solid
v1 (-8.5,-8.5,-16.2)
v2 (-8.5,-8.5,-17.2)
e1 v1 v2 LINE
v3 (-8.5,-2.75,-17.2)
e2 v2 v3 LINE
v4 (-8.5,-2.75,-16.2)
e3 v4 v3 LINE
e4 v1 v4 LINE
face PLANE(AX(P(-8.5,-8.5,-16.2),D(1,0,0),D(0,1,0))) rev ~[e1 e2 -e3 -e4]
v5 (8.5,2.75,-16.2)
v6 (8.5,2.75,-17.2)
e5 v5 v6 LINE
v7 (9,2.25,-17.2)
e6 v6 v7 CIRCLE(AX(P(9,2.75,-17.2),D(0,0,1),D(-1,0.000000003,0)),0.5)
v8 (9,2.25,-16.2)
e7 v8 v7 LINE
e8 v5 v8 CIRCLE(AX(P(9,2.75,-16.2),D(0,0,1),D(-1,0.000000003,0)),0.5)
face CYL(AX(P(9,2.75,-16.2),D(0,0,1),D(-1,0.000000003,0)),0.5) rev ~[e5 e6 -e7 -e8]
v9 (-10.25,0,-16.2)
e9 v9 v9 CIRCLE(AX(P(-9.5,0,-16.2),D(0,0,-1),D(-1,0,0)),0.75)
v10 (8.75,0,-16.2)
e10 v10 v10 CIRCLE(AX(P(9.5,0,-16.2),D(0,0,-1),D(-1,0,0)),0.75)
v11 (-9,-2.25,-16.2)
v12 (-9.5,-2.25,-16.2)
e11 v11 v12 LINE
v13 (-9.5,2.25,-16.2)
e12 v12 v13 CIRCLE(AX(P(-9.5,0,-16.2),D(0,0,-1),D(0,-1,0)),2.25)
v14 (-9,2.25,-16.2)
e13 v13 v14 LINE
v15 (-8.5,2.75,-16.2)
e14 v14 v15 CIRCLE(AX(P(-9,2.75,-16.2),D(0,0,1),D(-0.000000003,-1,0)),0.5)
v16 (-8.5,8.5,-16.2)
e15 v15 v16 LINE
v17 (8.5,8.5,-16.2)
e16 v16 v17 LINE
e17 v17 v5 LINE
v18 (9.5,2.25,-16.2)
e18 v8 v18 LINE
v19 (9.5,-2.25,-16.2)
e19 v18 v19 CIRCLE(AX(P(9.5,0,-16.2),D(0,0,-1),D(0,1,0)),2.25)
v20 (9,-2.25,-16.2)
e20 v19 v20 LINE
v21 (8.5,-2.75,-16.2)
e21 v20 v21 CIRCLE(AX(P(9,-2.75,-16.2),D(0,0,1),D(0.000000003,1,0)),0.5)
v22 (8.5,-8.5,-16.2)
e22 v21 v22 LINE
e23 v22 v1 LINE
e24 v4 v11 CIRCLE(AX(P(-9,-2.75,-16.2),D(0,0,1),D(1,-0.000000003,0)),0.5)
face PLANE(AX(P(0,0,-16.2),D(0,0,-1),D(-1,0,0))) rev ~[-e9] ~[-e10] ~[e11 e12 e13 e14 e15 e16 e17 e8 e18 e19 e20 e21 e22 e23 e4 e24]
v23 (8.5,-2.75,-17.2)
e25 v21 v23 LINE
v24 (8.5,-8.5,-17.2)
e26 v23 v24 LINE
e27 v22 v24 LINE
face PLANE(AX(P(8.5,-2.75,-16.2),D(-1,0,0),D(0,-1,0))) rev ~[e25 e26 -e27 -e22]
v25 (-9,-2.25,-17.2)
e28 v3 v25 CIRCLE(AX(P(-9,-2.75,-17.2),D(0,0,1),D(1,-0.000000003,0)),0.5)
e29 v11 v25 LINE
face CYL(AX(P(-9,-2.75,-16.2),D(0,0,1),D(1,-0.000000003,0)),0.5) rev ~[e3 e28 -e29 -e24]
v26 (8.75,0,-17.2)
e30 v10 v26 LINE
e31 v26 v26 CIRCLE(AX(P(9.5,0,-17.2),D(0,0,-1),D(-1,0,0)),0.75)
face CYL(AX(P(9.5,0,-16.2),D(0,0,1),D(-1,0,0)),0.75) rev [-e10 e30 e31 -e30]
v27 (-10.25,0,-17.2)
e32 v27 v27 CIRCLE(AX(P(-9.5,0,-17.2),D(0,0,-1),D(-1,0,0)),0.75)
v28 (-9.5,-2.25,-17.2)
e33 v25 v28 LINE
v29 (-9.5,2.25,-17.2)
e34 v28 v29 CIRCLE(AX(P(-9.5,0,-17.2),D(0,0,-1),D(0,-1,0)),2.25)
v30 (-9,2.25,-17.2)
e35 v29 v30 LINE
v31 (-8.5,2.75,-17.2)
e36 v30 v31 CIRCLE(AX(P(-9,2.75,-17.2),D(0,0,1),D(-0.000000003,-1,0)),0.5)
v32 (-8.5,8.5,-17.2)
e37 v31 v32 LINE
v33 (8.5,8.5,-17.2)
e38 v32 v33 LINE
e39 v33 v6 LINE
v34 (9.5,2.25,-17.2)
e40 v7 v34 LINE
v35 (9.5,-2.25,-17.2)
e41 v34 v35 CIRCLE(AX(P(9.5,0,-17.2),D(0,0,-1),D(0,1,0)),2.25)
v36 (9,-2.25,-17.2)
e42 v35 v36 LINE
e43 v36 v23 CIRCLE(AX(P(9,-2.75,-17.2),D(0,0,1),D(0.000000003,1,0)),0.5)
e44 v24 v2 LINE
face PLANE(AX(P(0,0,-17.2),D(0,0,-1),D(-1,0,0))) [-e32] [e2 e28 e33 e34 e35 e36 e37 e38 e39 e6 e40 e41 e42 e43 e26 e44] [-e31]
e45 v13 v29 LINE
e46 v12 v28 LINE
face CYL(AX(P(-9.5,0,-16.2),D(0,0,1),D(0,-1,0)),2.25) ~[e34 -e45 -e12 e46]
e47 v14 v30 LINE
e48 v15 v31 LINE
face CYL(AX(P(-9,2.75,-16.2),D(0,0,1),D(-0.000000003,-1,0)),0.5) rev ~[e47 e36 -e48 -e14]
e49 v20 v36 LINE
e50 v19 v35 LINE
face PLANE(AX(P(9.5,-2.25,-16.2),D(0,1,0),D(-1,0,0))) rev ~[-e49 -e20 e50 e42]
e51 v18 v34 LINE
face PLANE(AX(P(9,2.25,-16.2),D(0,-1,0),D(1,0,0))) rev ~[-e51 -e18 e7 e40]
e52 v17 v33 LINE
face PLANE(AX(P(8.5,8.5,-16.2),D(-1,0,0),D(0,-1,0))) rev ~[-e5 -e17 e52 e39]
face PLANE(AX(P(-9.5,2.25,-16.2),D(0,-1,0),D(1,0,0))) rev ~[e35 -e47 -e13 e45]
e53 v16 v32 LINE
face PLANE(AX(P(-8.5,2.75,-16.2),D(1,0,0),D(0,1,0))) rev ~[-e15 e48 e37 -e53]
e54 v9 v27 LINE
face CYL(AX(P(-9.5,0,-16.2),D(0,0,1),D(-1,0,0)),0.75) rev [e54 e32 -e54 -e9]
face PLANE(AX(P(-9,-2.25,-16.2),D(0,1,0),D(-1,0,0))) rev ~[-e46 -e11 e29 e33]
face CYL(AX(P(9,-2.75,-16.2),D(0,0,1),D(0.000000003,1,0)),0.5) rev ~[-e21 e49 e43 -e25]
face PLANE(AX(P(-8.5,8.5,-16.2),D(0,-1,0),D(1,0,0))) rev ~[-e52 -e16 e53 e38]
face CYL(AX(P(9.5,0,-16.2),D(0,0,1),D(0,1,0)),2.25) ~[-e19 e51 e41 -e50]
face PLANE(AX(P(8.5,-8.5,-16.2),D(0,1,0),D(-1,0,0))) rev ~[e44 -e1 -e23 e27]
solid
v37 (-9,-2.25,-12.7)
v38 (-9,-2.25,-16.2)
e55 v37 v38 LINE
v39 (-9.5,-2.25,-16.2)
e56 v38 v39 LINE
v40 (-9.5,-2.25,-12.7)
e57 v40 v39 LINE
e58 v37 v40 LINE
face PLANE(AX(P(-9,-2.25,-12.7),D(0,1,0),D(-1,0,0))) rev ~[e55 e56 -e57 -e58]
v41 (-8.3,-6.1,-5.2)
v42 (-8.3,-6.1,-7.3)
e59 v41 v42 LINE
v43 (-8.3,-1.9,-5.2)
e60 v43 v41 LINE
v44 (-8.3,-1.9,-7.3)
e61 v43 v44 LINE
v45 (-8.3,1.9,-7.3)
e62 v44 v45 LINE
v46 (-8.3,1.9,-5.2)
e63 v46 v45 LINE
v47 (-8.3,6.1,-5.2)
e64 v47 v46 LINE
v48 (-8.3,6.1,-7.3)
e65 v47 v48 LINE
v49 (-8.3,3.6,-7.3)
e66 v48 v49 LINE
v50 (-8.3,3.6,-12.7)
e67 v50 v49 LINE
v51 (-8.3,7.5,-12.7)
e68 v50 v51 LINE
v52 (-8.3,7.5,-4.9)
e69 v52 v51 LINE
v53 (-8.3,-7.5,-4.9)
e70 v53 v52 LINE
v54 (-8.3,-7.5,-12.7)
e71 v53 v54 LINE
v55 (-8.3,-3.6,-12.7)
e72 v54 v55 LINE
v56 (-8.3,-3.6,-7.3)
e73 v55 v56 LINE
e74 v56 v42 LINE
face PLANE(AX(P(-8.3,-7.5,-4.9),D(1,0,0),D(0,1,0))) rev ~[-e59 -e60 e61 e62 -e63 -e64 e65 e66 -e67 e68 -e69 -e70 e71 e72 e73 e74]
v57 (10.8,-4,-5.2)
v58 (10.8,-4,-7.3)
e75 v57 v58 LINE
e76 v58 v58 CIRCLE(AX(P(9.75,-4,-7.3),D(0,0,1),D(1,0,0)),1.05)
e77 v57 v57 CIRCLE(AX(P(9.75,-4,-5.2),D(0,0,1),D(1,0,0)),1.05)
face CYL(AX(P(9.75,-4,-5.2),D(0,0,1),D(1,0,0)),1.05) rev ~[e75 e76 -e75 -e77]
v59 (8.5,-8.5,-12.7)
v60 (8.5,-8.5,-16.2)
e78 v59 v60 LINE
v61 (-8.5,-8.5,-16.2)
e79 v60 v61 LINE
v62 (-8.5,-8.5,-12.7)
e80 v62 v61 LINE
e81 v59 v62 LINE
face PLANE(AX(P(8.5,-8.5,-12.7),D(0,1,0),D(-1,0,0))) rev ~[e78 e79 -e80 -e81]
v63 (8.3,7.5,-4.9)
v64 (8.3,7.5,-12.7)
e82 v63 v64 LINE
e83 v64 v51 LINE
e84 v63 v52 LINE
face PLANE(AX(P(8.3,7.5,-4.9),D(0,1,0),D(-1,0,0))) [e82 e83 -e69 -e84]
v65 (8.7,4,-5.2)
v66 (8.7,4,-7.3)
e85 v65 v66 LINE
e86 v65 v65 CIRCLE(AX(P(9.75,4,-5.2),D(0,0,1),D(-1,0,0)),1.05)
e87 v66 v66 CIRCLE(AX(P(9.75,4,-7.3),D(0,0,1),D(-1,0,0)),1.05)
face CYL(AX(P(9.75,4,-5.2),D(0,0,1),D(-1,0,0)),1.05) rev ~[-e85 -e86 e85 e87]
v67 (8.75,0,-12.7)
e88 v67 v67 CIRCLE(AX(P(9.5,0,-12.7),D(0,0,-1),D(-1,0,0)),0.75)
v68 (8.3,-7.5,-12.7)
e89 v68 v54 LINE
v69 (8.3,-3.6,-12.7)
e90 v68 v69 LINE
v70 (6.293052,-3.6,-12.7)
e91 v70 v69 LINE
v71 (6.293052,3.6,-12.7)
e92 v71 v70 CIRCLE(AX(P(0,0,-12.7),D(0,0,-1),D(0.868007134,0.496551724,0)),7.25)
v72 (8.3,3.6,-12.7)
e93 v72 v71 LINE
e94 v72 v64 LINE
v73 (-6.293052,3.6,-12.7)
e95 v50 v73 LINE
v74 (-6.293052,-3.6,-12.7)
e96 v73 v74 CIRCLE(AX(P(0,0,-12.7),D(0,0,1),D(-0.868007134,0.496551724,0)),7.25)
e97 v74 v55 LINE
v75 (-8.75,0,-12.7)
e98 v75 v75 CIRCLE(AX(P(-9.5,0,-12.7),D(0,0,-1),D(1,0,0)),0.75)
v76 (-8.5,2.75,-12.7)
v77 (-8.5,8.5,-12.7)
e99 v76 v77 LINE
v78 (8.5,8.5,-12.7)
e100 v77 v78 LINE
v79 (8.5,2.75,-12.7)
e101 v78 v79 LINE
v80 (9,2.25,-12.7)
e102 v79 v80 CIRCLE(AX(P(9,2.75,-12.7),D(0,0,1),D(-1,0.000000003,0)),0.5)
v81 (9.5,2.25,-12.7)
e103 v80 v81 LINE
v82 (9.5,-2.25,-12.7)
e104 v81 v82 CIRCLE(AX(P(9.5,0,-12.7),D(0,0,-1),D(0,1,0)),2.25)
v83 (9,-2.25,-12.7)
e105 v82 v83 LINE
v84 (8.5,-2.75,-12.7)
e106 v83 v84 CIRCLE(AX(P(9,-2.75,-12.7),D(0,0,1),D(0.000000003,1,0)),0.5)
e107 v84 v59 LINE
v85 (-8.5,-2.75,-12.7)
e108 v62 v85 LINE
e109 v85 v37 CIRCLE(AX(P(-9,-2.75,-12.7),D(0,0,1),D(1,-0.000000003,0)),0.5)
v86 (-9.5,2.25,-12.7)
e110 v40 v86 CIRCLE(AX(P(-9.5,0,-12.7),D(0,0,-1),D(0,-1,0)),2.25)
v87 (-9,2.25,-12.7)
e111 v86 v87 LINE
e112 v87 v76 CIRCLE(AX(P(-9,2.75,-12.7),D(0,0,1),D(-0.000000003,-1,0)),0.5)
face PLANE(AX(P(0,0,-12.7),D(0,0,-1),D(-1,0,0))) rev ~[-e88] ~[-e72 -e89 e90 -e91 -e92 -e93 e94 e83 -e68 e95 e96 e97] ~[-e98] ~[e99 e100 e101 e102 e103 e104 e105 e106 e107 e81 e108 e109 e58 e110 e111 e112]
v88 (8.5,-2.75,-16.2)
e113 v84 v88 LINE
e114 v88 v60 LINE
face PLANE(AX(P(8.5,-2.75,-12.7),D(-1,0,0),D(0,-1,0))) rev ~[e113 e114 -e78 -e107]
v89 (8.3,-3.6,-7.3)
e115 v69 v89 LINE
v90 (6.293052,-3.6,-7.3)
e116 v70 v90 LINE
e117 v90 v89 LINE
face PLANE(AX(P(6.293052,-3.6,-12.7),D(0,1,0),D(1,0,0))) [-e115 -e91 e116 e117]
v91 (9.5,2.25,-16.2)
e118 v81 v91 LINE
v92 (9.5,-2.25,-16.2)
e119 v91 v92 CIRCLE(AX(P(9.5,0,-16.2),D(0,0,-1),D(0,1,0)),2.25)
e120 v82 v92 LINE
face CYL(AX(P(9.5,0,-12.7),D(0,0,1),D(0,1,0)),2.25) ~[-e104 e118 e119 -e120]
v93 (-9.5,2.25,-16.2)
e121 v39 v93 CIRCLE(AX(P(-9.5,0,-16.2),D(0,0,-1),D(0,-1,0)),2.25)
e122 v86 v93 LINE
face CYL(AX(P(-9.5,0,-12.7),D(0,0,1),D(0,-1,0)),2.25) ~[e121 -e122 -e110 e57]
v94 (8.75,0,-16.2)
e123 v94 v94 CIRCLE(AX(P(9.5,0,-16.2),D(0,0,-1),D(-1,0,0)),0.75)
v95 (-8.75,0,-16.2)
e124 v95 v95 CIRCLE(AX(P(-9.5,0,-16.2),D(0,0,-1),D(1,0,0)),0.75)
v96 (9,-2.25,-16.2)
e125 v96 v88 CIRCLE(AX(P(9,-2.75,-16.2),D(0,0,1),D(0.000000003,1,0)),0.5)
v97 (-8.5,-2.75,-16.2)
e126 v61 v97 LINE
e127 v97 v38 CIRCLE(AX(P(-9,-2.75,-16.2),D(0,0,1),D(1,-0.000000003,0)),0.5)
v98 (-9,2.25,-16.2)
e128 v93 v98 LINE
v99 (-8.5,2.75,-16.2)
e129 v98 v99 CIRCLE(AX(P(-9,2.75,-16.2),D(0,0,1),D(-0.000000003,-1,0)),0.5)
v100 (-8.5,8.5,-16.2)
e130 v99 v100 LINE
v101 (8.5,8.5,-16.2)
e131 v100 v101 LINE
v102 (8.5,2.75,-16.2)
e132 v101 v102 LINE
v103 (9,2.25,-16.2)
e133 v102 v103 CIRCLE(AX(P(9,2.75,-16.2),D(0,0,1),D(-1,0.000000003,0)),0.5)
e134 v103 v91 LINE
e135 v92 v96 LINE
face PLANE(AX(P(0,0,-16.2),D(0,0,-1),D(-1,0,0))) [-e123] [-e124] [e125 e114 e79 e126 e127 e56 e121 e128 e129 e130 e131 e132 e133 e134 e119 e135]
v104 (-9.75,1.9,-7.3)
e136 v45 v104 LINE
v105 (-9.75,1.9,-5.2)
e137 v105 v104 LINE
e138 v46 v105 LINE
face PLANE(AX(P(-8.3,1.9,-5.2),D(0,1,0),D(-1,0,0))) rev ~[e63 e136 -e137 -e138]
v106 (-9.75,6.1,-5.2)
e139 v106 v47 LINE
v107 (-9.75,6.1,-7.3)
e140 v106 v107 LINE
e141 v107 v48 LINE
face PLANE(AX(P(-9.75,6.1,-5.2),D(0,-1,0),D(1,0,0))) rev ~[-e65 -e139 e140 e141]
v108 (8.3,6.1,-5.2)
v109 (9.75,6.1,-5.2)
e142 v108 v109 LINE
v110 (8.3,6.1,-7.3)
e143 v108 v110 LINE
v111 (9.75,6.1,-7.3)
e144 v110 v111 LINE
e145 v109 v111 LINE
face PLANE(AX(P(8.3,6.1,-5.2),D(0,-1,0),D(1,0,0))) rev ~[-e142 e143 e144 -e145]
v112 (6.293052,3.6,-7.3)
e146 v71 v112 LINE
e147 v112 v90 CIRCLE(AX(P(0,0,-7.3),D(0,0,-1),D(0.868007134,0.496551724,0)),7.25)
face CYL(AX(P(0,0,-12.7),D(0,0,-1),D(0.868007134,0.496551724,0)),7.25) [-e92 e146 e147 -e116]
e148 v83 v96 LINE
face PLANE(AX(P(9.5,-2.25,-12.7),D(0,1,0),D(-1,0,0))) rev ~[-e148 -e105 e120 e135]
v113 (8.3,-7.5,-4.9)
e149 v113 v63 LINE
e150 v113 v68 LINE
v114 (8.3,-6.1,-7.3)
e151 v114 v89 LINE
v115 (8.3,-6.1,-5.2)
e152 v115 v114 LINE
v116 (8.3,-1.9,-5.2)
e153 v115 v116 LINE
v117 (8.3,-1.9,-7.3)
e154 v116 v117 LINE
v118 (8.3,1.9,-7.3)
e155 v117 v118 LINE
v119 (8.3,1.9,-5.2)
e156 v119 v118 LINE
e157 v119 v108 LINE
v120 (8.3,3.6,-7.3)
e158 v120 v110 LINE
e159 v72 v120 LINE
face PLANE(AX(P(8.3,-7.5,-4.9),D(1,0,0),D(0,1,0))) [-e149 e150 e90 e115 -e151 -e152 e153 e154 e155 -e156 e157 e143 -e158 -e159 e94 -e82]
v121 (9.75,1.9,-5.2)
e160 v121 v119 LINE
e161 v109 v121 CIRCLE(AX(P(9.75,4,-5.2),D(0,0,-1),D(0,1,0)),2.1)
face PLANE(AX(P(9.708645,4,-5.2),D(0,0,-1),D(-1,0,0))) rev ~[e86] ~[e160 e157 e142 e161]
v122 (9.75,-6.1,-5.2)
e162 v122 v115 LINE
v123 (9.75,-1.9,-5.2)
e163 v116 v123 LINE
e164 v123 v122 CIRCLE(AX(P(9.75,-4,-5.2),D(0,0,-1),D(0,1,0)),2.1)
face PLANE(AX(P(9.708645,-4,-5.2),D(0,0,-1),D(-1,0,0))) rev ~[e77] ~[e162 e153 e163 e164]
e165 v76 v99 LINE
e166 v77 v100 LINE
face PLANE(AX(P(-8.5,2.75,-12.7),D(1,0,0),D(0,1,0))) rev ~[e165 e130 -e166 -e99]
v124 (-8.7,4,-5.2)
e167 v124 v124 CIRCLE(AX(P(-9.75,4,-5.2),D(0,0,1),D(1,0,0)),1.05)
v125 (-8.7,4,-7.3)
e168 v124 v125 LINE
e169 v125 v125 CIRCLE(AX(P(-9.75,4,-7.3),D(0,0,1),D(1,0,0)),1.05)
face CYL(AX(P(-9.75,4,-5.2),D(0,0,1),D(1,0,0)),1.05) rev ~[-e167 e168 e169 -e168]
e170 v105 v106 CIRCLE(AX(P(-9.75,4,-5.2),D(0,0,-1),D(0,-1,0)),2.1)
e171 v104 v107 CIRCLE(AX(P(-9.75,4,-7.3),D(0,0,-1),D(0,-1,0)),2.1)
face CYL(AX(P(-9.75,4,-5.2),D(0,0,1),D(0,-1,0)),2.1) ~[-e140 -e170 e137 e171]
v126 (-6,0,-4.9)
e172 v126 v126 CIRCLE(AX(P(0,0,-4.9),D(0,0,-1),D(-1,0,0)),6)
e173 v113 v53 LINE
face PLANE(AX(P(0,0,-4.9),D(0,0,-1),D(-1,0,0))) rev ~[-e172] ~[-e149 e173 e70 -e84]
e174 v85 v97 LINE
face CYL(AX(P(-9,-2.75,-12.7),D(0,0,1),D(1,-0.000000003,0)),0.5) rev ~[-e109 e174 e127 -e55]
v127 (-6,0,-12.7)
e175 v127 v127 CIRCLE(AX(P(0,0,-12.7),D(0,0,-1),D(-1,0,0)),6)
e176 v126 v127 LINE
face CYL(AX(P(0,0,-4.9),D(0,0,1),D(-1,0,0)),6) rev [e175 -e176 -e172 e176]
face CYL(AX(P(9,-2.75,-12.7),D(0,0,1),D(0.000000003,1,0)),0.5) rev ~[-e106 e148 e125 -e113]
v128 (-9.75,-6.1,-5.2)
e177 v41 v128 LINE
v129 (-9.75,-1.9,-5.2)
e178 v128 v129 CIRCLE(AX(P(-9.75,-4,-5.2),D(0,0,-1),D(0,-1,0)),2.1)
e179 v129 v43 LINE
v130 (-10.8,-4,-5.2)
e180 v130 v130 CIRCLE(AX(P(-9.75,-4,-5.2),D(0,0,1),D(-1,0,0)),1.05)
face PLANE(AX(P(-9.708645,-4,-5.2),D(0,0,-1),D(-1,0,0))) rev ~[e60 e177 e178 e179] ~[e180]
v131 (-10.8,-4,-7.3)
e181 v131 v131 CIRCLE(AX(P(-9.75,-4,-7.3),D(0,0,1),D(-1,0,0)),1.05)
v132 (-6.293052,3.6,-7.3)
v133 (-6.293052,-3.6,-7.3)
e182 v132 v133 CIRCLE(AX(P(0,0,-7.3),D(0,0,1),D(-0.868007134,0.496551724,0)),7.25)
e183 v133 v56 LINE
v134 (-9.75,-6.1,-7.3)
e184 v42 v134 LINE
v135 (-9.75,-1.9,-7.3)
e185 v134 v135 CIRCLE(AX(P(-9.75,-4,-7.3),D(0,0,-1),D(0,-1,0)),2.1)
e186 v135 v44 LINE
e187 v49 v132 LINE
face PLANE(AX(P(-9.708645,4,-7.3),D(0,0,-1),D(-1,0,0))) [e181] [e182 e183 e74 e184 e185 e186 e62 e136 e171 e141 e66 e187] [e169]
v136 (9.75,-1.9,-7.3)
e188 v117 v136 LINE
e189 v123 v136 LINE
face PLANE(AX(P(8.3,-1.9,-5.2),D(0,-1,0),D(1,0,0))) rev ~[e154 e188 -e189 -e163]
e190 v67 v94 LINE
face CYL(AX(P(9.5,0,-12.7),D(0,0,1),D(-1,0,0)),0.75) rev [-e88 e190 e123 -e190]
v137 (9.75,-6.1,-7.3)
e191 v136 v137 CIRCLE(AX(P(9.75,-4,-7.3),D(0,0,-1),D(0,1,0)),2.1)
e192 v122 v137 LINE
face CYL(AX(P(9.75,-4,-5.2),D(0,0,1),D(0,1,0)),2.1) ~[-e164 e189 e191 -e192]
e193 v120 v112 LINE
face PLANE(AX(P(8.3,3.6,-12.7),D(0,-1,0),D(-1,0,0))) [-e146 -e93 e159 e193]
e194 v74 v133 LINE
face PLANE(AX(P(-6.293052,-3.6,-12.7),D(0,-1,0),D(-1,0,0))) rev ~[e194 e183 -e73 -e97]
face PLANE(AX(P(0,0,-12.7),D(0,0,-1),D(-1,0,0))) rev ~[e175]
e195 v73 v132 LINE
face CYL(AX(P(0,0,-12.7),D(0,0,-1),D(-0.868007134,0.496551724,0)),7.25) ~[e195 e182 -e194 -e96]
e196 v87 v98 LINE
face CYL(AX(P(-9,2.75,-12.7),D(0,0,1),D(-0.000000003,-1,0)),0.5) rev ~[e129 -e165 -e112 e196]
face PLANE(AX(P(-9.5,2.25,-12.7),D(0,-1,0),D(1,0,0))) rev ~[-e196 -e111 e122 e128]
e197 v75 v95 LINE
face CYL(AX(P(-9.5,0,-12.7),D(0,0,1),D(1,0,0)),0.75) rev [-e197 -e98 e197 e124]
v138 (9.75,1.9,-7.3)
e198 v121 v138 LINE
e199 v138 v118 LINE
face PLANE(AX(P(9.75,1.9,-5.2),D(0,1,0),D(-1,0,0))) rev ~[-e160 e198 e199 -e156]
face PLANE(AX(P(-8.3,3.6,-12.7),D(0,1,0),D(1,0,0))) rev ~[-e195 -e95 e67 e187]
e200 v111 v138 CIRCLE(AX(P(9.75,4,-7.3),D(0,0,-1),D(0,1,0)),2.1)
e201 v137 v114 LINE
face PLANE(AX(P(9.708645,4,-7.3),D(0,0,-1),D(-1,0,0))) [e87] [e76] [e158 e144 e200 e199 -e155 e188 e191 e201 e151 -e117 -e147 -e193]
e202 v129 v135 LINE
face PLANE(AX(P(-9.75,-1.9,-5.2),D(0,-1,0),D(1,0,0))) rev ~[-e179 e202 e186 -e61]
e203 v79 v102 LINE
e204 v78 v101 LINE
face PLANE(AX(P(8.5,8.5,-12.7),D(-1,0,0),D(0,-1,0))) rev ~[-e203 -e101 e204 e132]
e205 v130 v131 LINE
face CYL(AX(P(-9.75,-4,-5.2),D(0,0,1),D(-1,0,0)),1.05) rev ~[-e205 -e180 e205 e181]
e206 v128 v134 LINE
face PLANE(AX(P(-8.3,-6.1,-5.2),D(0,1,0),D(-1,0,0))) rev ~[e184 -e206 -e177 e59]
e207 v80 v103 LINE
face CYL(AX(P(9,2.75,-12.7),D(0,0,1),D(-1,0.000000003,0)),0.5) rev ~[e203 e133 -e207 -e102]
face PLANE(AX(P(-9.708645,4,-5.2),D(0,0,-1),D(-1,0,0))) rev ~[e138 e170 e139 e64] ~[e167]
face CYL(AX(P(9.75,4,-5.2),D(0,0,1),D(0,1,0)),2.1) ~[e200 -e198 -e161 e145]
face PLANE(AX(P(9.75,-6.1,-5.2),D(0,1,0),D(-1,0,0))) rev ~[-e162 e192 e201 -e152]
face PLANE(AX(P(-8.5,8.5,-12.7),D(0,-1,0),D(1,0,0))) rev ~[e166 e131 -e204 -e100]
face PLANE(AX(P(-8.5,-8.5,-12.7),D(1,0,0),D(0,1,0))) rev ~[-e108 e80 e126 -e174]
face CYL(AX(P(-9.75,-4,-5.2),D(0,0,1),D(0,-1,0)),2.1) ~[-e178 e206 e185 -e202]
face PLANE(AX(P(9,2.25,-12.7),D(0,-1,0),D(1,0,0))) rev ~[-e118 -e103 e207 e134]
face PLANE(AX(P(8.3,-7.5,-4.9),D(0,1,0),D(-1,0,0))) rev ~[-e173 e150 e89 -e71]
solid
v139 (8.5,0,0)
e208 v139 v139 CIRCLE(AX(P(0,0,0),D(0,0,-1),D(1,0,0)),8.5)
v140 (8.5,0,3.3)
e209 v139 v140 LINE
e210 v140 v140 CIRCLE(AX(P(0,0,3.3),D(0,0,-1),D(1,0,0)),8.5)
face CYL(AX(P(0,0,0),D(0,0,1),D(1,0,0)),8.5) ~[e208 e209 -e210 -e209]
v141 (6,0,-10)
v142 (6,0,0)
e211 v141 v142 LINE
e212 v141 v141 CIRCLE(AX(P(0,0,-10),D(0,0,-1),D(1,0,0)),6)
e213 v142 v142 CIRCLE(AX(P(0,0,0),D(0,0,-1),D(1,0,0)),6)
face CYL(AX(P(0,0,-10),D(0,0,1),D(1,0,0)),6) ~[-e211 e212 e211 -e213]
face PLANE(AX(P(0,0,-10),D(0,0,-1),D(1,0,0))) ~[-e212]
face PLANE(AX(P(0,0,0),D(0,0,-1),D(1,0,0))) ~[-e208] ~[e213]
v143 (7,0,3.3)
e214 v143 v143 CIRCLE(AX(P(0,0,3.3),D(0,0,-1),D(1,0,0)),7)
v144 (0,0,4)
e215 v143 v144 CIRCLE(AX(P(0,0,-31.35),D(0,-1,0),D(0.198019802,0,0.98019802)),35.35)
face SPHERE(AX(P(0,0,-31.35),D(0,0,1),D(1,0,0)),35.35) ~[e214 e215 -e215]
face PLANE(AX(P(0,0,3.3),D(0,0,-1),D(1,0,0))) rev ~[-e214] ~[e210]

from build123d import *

# Parameters (mm, degrees)
EXTRUDE_START       = -5.1
SKETCH_2_W          = 16.6
SKETCH_2_H          = 15
SKETCH_2_R          = 6
EXTRUDE_1_DEPTH     = 7.8
EXTRUDE_START_2     = -0.3
SKETCH_3_R          = 1.05
EXTRUDE_2_DEPTH     = 2.1
SKETCH_4_R          = 0.75
EXTRUDE_3_DEPTH     = 3.5
SKETCH_5_R          = 0.75
EXTRUDE_4_DEPTH     = 1
CUT_EXTRUDE_1_DEPTH = 5.4


with BuildPart() as part:
    # Эскиз1 → Повернуть1 (revolve)
    with BuildSketch(Plane(origin=(0, 0, 0), x_dir=(0, 0, -1), z_dir=(1, 0, 0)), mode=Mode.PRIVATE) as revolve_1_sk:
        with BuildLine():
            Line((10, 6), (0, 6))
            Line((0, 6), (0, 8.5))
            Line((0, 8.5), (-3.3, 8.5))
            Line((-3.3, 8.5), (-3.3, 7))
            ThreePointArc((-3.3, 7), (-3.824564674, 3.517456467), (-4, 0))
            Line((-4, 0), (0, 0))
            Line((0, 0), (10, 0))
            Line((10, 0), (10, 6))
        make_face()
    revolve(revolve_1_sk.sketch.rotate(Axis((0, 0, 4), (0, 0, -1)), 90), axis=Axis((0, 0, 4), (0, 0, -1)))


with BuildPart() as body_2:
    # Эскиз2 → Бобышка-Вытянуть1 (new body)
    with BuildSketch(Plane(origin=(0, 0, -10), x_dir=(-1, 0, 0), z_dir=(0, 0, -1)).offset(EXTRUDE_START)):
        Rectangle(SKETCH_2_W, SKETCH_2_H)
        Circle(SKETCH_2_R, mode=Mode.SUBTRACT)
    extrude(amount=EXTRUDE_1_DEPTH)

    # Эскиз3 → Бобышка-Вытянуть2 (add)
    # profile 1 of 4: a face of its own
    with BuildSketch(Plane.XY.offset(-4.9).offset(EXTRUDE_START_2)):
        with BuildLine():
            Line((-9.75, 6.1), (-8.3, 6.1))
            Line((-8.3, 6.1), (-8.3, 1.9))
            Line((-8.3, 1.9), (-9.75, 1.9))
            ThreePointArc((-9.75, 1.9), (-11.85, 4), (-9.75, 6.1))
        make_face()
        with Locations((-9.75, 4)):
            Circle(SKETCH_3_R, mode=Mode.SUBTRACT)
    # profile 2 of 4: a face of its own
    with BuildSketch(Plane.XY.offset(-4.9).offset(EXTRUDE_START_2)):
        with BuildLine():
            Line((9.75, 1.9), (8.3, 1.9))
            Line((8.3, 1.9), (8.3, 6.1))
            Line((8.3, 6.1), (9.75, 6.1))
            ThreePointArc((9.75, 6.1), (11.85, 4), (9.75, 1.9))
        make_face()
        with Locations(Location((9.75, 4, 0), (0, 0, 180))):
            Circle(SKETCH_3_R, mode=Mode.SUBTRACT)
    # profile 3 of 4: a face of its own
    with BuildSketch(Plane.XY.offset(-4.9).offset(EXTRUDE_START_2)):
        with BuildLine():
            Line((9.75, -6.1), (8.3, -6.1))
            Line((8.3, -6.1), (8.3, -1.9))
            Line((8.3, -1.9), (9.75, -1.9))
            ThreePointArc((9.75, -1.9), (11.85, -4), (9.75, -6.1))
        make_face()
        with Locations((9.75, -4)):
            Circle(SKETCH_3_R, mode=Mode.SUBTRACT)
    # profile 4 of 4: a face of its own
    with BuildSketch(Plane.XY.offset(-4.9).offset(EXTRUDE_START_2)):
        with BuildLine():
            Line((-9.75, -1.9), (-8.3, -1.9))
            Line((-8.3, -1.9), (-8.3, -6.1))
            Line((-8.3, -6.1), (-9.75, -6.1))
            ThreePointArc((-9.75, -6.1), (-11.85, -4), (-9.75, -1.9))
        make_face()
        with Locations(Location((-9.75, -4, 0), (0, 0, 180))):
            Circle(SKETCH_3_R, mode=Mode.SUBTRACT)
    extrude(amount=-EXTRUDE_2_DEPTH)

    # Эскиз4 → Бобышка-Вытянуть3 (add)
    with BuildSketch(Plane(origin=(0, 0, -12.7), x_dir=(-1, 0, 0), z_dir=(0, 0, -1))):
        with BuildLine():
            Line((-8.5, -8.5), (8.5, -8.5))
            Line((8.5, -8.5), (8.5, -2.75))
            ThreePointArc((8.5, -2.75), (8.646446609, -2.396446609), (9, -2.25))
            Line((9, -2.25), (9.5, -2.25))
            ThreePointArc((9.5, -2.25), (11.75, 0), (9.5, 2.25))
            Line((9.5, 2.25), (9, 2.25))
            ThreePointArc((9, 2.25), (8.646446609, 2.396446609), (8.5, 2.75))
            Line((8.5, 2.75), (8.5, 8.5))
            Line((8.5, 8.5), (-8.5, 8.5))
            Line((-8.5, 8.5), (-8.5, 2.75))
            ThreePointArc((-8.5, 2.75), (-8.646446609, 2.396446609), (-9, 2.25))
            Line((-9, 2.25), (-9.5, 2.25))
            ThreePointArc((-9.5, 2.25), (-11.75, 0), (-9.5, -2.25))
            Line((-9.5, -2.25), (-9, -2.25))
            ThreePointArc((-9, -2.25), (-8.646446609, -2.396446609), (-8.5, -2.75))
            Line((-8.5, -2.75), (-8.5, -8.5))
        make_face()
        with Locations((-9.5, 0)):
            Circle(SKETCH_4_R, mode=Mode.SUBTRACT)
        with Locations(Location((9.5, 0, 0), (0, 0, 180))):
            Circle(SKETCH_4_R, mode=Mode.SUBTRACT)
    extrude(amount=EXTRUDE_3_DEPTH)

    # Эскиз7 → Вырез-Вытянуть1 (cut)
    with BuildSketch(Plane.XY.offset(-12.7)):
        with BuildLine():
            Line((-8.3, -3.6), (-8.3, 3.6))
            Line((-8.3, 3.6), (-6.293051724, 3.6))
            ThreePointArc((-6.293051724, 3.6), (-7.25, 0), (-6.293051724, -3.6))
            Line((-6.293051724, -3.6), (-8.3, -3.6))
        make_face()
        with BuildLine():
            Line((8.3, 3.6), (6.293051724, 3.6))
            ThreePointArc((6.293051724, 3.6), (7.25, 0), (6.293051724, -3.6))
            Line((6.293051724, -3.6), (8.3, -3.6))
            Line((8.3, -3.6), (8.3, 3.6))
        make_face()
    extrude(amount=CUT_EXTRUDE_1_DEPTH, mode=Mode.SUBTRACT)


with BuildPart() as body_3:
    # Эскиз5 → Бобышка-Вытянуть4 (new body)
    with BuildSketch(Plane(origin=(0, 0, -16.2), x_dir=(-1, 0, 0), z_dir=(0, 0, -1))):
        with BuildLine():
            Line((8.5, 2.75), (8.5, 8.5))
            Line((8.5, 8.5), (-8.5, 8.5))
            Line((-8.5, 8.5), (-8.5, 2.75))
            ThreePointArc((-8.5, 2.75), (-8.646446609, 2.396446609), (-9, 2.25))
            Line((-9, 2.25), (-9.5, 2.25))
            ThreePointArc((-9.5, 2.25), (-11.75, 0), (-9.5, -2.25))
            Line((-9.5, -2.25), (-9, -2.25))
            ThreePointArc((-9, -2.25), (-8.646446609, -2.396446609), (-8.5, -2.75))
            Line((-8.5, -2.75), (-8.5, -8.5))
            Line((-8.5, -8.5), (8.5, -8.5))
            Line((8.5, -8.5), (8.5, -2.75))
            ThreePointArc((8.5, -2.75), (8.646446609, -2.396446609), (9, -2.25))
            Line((9, -2.25), (9.5, -2.25))
            ThreePointArc((9.5, -2.25), (11.75, 0), (9.5, 2.25))
            Line((9.5, 2.25), (9, 2.25))
            ThreePointArc((9, 2.25), (8.646446609, 2.396446609), (8.5, 2.75))
        make_face()
        with Locations((9.5, 0)):
            Circle(SKETCH_5_R, mode=Mode.SUBTRACT)
        with Locations((-9.5, 0)):
            Circle(SKETCH_5_R, mode=Mode.SUBTRACT)
    extrude(amount=EXTRUDE_4_DEPTH)


solid = Compound([part.part, body_2.part, body_3.part])
